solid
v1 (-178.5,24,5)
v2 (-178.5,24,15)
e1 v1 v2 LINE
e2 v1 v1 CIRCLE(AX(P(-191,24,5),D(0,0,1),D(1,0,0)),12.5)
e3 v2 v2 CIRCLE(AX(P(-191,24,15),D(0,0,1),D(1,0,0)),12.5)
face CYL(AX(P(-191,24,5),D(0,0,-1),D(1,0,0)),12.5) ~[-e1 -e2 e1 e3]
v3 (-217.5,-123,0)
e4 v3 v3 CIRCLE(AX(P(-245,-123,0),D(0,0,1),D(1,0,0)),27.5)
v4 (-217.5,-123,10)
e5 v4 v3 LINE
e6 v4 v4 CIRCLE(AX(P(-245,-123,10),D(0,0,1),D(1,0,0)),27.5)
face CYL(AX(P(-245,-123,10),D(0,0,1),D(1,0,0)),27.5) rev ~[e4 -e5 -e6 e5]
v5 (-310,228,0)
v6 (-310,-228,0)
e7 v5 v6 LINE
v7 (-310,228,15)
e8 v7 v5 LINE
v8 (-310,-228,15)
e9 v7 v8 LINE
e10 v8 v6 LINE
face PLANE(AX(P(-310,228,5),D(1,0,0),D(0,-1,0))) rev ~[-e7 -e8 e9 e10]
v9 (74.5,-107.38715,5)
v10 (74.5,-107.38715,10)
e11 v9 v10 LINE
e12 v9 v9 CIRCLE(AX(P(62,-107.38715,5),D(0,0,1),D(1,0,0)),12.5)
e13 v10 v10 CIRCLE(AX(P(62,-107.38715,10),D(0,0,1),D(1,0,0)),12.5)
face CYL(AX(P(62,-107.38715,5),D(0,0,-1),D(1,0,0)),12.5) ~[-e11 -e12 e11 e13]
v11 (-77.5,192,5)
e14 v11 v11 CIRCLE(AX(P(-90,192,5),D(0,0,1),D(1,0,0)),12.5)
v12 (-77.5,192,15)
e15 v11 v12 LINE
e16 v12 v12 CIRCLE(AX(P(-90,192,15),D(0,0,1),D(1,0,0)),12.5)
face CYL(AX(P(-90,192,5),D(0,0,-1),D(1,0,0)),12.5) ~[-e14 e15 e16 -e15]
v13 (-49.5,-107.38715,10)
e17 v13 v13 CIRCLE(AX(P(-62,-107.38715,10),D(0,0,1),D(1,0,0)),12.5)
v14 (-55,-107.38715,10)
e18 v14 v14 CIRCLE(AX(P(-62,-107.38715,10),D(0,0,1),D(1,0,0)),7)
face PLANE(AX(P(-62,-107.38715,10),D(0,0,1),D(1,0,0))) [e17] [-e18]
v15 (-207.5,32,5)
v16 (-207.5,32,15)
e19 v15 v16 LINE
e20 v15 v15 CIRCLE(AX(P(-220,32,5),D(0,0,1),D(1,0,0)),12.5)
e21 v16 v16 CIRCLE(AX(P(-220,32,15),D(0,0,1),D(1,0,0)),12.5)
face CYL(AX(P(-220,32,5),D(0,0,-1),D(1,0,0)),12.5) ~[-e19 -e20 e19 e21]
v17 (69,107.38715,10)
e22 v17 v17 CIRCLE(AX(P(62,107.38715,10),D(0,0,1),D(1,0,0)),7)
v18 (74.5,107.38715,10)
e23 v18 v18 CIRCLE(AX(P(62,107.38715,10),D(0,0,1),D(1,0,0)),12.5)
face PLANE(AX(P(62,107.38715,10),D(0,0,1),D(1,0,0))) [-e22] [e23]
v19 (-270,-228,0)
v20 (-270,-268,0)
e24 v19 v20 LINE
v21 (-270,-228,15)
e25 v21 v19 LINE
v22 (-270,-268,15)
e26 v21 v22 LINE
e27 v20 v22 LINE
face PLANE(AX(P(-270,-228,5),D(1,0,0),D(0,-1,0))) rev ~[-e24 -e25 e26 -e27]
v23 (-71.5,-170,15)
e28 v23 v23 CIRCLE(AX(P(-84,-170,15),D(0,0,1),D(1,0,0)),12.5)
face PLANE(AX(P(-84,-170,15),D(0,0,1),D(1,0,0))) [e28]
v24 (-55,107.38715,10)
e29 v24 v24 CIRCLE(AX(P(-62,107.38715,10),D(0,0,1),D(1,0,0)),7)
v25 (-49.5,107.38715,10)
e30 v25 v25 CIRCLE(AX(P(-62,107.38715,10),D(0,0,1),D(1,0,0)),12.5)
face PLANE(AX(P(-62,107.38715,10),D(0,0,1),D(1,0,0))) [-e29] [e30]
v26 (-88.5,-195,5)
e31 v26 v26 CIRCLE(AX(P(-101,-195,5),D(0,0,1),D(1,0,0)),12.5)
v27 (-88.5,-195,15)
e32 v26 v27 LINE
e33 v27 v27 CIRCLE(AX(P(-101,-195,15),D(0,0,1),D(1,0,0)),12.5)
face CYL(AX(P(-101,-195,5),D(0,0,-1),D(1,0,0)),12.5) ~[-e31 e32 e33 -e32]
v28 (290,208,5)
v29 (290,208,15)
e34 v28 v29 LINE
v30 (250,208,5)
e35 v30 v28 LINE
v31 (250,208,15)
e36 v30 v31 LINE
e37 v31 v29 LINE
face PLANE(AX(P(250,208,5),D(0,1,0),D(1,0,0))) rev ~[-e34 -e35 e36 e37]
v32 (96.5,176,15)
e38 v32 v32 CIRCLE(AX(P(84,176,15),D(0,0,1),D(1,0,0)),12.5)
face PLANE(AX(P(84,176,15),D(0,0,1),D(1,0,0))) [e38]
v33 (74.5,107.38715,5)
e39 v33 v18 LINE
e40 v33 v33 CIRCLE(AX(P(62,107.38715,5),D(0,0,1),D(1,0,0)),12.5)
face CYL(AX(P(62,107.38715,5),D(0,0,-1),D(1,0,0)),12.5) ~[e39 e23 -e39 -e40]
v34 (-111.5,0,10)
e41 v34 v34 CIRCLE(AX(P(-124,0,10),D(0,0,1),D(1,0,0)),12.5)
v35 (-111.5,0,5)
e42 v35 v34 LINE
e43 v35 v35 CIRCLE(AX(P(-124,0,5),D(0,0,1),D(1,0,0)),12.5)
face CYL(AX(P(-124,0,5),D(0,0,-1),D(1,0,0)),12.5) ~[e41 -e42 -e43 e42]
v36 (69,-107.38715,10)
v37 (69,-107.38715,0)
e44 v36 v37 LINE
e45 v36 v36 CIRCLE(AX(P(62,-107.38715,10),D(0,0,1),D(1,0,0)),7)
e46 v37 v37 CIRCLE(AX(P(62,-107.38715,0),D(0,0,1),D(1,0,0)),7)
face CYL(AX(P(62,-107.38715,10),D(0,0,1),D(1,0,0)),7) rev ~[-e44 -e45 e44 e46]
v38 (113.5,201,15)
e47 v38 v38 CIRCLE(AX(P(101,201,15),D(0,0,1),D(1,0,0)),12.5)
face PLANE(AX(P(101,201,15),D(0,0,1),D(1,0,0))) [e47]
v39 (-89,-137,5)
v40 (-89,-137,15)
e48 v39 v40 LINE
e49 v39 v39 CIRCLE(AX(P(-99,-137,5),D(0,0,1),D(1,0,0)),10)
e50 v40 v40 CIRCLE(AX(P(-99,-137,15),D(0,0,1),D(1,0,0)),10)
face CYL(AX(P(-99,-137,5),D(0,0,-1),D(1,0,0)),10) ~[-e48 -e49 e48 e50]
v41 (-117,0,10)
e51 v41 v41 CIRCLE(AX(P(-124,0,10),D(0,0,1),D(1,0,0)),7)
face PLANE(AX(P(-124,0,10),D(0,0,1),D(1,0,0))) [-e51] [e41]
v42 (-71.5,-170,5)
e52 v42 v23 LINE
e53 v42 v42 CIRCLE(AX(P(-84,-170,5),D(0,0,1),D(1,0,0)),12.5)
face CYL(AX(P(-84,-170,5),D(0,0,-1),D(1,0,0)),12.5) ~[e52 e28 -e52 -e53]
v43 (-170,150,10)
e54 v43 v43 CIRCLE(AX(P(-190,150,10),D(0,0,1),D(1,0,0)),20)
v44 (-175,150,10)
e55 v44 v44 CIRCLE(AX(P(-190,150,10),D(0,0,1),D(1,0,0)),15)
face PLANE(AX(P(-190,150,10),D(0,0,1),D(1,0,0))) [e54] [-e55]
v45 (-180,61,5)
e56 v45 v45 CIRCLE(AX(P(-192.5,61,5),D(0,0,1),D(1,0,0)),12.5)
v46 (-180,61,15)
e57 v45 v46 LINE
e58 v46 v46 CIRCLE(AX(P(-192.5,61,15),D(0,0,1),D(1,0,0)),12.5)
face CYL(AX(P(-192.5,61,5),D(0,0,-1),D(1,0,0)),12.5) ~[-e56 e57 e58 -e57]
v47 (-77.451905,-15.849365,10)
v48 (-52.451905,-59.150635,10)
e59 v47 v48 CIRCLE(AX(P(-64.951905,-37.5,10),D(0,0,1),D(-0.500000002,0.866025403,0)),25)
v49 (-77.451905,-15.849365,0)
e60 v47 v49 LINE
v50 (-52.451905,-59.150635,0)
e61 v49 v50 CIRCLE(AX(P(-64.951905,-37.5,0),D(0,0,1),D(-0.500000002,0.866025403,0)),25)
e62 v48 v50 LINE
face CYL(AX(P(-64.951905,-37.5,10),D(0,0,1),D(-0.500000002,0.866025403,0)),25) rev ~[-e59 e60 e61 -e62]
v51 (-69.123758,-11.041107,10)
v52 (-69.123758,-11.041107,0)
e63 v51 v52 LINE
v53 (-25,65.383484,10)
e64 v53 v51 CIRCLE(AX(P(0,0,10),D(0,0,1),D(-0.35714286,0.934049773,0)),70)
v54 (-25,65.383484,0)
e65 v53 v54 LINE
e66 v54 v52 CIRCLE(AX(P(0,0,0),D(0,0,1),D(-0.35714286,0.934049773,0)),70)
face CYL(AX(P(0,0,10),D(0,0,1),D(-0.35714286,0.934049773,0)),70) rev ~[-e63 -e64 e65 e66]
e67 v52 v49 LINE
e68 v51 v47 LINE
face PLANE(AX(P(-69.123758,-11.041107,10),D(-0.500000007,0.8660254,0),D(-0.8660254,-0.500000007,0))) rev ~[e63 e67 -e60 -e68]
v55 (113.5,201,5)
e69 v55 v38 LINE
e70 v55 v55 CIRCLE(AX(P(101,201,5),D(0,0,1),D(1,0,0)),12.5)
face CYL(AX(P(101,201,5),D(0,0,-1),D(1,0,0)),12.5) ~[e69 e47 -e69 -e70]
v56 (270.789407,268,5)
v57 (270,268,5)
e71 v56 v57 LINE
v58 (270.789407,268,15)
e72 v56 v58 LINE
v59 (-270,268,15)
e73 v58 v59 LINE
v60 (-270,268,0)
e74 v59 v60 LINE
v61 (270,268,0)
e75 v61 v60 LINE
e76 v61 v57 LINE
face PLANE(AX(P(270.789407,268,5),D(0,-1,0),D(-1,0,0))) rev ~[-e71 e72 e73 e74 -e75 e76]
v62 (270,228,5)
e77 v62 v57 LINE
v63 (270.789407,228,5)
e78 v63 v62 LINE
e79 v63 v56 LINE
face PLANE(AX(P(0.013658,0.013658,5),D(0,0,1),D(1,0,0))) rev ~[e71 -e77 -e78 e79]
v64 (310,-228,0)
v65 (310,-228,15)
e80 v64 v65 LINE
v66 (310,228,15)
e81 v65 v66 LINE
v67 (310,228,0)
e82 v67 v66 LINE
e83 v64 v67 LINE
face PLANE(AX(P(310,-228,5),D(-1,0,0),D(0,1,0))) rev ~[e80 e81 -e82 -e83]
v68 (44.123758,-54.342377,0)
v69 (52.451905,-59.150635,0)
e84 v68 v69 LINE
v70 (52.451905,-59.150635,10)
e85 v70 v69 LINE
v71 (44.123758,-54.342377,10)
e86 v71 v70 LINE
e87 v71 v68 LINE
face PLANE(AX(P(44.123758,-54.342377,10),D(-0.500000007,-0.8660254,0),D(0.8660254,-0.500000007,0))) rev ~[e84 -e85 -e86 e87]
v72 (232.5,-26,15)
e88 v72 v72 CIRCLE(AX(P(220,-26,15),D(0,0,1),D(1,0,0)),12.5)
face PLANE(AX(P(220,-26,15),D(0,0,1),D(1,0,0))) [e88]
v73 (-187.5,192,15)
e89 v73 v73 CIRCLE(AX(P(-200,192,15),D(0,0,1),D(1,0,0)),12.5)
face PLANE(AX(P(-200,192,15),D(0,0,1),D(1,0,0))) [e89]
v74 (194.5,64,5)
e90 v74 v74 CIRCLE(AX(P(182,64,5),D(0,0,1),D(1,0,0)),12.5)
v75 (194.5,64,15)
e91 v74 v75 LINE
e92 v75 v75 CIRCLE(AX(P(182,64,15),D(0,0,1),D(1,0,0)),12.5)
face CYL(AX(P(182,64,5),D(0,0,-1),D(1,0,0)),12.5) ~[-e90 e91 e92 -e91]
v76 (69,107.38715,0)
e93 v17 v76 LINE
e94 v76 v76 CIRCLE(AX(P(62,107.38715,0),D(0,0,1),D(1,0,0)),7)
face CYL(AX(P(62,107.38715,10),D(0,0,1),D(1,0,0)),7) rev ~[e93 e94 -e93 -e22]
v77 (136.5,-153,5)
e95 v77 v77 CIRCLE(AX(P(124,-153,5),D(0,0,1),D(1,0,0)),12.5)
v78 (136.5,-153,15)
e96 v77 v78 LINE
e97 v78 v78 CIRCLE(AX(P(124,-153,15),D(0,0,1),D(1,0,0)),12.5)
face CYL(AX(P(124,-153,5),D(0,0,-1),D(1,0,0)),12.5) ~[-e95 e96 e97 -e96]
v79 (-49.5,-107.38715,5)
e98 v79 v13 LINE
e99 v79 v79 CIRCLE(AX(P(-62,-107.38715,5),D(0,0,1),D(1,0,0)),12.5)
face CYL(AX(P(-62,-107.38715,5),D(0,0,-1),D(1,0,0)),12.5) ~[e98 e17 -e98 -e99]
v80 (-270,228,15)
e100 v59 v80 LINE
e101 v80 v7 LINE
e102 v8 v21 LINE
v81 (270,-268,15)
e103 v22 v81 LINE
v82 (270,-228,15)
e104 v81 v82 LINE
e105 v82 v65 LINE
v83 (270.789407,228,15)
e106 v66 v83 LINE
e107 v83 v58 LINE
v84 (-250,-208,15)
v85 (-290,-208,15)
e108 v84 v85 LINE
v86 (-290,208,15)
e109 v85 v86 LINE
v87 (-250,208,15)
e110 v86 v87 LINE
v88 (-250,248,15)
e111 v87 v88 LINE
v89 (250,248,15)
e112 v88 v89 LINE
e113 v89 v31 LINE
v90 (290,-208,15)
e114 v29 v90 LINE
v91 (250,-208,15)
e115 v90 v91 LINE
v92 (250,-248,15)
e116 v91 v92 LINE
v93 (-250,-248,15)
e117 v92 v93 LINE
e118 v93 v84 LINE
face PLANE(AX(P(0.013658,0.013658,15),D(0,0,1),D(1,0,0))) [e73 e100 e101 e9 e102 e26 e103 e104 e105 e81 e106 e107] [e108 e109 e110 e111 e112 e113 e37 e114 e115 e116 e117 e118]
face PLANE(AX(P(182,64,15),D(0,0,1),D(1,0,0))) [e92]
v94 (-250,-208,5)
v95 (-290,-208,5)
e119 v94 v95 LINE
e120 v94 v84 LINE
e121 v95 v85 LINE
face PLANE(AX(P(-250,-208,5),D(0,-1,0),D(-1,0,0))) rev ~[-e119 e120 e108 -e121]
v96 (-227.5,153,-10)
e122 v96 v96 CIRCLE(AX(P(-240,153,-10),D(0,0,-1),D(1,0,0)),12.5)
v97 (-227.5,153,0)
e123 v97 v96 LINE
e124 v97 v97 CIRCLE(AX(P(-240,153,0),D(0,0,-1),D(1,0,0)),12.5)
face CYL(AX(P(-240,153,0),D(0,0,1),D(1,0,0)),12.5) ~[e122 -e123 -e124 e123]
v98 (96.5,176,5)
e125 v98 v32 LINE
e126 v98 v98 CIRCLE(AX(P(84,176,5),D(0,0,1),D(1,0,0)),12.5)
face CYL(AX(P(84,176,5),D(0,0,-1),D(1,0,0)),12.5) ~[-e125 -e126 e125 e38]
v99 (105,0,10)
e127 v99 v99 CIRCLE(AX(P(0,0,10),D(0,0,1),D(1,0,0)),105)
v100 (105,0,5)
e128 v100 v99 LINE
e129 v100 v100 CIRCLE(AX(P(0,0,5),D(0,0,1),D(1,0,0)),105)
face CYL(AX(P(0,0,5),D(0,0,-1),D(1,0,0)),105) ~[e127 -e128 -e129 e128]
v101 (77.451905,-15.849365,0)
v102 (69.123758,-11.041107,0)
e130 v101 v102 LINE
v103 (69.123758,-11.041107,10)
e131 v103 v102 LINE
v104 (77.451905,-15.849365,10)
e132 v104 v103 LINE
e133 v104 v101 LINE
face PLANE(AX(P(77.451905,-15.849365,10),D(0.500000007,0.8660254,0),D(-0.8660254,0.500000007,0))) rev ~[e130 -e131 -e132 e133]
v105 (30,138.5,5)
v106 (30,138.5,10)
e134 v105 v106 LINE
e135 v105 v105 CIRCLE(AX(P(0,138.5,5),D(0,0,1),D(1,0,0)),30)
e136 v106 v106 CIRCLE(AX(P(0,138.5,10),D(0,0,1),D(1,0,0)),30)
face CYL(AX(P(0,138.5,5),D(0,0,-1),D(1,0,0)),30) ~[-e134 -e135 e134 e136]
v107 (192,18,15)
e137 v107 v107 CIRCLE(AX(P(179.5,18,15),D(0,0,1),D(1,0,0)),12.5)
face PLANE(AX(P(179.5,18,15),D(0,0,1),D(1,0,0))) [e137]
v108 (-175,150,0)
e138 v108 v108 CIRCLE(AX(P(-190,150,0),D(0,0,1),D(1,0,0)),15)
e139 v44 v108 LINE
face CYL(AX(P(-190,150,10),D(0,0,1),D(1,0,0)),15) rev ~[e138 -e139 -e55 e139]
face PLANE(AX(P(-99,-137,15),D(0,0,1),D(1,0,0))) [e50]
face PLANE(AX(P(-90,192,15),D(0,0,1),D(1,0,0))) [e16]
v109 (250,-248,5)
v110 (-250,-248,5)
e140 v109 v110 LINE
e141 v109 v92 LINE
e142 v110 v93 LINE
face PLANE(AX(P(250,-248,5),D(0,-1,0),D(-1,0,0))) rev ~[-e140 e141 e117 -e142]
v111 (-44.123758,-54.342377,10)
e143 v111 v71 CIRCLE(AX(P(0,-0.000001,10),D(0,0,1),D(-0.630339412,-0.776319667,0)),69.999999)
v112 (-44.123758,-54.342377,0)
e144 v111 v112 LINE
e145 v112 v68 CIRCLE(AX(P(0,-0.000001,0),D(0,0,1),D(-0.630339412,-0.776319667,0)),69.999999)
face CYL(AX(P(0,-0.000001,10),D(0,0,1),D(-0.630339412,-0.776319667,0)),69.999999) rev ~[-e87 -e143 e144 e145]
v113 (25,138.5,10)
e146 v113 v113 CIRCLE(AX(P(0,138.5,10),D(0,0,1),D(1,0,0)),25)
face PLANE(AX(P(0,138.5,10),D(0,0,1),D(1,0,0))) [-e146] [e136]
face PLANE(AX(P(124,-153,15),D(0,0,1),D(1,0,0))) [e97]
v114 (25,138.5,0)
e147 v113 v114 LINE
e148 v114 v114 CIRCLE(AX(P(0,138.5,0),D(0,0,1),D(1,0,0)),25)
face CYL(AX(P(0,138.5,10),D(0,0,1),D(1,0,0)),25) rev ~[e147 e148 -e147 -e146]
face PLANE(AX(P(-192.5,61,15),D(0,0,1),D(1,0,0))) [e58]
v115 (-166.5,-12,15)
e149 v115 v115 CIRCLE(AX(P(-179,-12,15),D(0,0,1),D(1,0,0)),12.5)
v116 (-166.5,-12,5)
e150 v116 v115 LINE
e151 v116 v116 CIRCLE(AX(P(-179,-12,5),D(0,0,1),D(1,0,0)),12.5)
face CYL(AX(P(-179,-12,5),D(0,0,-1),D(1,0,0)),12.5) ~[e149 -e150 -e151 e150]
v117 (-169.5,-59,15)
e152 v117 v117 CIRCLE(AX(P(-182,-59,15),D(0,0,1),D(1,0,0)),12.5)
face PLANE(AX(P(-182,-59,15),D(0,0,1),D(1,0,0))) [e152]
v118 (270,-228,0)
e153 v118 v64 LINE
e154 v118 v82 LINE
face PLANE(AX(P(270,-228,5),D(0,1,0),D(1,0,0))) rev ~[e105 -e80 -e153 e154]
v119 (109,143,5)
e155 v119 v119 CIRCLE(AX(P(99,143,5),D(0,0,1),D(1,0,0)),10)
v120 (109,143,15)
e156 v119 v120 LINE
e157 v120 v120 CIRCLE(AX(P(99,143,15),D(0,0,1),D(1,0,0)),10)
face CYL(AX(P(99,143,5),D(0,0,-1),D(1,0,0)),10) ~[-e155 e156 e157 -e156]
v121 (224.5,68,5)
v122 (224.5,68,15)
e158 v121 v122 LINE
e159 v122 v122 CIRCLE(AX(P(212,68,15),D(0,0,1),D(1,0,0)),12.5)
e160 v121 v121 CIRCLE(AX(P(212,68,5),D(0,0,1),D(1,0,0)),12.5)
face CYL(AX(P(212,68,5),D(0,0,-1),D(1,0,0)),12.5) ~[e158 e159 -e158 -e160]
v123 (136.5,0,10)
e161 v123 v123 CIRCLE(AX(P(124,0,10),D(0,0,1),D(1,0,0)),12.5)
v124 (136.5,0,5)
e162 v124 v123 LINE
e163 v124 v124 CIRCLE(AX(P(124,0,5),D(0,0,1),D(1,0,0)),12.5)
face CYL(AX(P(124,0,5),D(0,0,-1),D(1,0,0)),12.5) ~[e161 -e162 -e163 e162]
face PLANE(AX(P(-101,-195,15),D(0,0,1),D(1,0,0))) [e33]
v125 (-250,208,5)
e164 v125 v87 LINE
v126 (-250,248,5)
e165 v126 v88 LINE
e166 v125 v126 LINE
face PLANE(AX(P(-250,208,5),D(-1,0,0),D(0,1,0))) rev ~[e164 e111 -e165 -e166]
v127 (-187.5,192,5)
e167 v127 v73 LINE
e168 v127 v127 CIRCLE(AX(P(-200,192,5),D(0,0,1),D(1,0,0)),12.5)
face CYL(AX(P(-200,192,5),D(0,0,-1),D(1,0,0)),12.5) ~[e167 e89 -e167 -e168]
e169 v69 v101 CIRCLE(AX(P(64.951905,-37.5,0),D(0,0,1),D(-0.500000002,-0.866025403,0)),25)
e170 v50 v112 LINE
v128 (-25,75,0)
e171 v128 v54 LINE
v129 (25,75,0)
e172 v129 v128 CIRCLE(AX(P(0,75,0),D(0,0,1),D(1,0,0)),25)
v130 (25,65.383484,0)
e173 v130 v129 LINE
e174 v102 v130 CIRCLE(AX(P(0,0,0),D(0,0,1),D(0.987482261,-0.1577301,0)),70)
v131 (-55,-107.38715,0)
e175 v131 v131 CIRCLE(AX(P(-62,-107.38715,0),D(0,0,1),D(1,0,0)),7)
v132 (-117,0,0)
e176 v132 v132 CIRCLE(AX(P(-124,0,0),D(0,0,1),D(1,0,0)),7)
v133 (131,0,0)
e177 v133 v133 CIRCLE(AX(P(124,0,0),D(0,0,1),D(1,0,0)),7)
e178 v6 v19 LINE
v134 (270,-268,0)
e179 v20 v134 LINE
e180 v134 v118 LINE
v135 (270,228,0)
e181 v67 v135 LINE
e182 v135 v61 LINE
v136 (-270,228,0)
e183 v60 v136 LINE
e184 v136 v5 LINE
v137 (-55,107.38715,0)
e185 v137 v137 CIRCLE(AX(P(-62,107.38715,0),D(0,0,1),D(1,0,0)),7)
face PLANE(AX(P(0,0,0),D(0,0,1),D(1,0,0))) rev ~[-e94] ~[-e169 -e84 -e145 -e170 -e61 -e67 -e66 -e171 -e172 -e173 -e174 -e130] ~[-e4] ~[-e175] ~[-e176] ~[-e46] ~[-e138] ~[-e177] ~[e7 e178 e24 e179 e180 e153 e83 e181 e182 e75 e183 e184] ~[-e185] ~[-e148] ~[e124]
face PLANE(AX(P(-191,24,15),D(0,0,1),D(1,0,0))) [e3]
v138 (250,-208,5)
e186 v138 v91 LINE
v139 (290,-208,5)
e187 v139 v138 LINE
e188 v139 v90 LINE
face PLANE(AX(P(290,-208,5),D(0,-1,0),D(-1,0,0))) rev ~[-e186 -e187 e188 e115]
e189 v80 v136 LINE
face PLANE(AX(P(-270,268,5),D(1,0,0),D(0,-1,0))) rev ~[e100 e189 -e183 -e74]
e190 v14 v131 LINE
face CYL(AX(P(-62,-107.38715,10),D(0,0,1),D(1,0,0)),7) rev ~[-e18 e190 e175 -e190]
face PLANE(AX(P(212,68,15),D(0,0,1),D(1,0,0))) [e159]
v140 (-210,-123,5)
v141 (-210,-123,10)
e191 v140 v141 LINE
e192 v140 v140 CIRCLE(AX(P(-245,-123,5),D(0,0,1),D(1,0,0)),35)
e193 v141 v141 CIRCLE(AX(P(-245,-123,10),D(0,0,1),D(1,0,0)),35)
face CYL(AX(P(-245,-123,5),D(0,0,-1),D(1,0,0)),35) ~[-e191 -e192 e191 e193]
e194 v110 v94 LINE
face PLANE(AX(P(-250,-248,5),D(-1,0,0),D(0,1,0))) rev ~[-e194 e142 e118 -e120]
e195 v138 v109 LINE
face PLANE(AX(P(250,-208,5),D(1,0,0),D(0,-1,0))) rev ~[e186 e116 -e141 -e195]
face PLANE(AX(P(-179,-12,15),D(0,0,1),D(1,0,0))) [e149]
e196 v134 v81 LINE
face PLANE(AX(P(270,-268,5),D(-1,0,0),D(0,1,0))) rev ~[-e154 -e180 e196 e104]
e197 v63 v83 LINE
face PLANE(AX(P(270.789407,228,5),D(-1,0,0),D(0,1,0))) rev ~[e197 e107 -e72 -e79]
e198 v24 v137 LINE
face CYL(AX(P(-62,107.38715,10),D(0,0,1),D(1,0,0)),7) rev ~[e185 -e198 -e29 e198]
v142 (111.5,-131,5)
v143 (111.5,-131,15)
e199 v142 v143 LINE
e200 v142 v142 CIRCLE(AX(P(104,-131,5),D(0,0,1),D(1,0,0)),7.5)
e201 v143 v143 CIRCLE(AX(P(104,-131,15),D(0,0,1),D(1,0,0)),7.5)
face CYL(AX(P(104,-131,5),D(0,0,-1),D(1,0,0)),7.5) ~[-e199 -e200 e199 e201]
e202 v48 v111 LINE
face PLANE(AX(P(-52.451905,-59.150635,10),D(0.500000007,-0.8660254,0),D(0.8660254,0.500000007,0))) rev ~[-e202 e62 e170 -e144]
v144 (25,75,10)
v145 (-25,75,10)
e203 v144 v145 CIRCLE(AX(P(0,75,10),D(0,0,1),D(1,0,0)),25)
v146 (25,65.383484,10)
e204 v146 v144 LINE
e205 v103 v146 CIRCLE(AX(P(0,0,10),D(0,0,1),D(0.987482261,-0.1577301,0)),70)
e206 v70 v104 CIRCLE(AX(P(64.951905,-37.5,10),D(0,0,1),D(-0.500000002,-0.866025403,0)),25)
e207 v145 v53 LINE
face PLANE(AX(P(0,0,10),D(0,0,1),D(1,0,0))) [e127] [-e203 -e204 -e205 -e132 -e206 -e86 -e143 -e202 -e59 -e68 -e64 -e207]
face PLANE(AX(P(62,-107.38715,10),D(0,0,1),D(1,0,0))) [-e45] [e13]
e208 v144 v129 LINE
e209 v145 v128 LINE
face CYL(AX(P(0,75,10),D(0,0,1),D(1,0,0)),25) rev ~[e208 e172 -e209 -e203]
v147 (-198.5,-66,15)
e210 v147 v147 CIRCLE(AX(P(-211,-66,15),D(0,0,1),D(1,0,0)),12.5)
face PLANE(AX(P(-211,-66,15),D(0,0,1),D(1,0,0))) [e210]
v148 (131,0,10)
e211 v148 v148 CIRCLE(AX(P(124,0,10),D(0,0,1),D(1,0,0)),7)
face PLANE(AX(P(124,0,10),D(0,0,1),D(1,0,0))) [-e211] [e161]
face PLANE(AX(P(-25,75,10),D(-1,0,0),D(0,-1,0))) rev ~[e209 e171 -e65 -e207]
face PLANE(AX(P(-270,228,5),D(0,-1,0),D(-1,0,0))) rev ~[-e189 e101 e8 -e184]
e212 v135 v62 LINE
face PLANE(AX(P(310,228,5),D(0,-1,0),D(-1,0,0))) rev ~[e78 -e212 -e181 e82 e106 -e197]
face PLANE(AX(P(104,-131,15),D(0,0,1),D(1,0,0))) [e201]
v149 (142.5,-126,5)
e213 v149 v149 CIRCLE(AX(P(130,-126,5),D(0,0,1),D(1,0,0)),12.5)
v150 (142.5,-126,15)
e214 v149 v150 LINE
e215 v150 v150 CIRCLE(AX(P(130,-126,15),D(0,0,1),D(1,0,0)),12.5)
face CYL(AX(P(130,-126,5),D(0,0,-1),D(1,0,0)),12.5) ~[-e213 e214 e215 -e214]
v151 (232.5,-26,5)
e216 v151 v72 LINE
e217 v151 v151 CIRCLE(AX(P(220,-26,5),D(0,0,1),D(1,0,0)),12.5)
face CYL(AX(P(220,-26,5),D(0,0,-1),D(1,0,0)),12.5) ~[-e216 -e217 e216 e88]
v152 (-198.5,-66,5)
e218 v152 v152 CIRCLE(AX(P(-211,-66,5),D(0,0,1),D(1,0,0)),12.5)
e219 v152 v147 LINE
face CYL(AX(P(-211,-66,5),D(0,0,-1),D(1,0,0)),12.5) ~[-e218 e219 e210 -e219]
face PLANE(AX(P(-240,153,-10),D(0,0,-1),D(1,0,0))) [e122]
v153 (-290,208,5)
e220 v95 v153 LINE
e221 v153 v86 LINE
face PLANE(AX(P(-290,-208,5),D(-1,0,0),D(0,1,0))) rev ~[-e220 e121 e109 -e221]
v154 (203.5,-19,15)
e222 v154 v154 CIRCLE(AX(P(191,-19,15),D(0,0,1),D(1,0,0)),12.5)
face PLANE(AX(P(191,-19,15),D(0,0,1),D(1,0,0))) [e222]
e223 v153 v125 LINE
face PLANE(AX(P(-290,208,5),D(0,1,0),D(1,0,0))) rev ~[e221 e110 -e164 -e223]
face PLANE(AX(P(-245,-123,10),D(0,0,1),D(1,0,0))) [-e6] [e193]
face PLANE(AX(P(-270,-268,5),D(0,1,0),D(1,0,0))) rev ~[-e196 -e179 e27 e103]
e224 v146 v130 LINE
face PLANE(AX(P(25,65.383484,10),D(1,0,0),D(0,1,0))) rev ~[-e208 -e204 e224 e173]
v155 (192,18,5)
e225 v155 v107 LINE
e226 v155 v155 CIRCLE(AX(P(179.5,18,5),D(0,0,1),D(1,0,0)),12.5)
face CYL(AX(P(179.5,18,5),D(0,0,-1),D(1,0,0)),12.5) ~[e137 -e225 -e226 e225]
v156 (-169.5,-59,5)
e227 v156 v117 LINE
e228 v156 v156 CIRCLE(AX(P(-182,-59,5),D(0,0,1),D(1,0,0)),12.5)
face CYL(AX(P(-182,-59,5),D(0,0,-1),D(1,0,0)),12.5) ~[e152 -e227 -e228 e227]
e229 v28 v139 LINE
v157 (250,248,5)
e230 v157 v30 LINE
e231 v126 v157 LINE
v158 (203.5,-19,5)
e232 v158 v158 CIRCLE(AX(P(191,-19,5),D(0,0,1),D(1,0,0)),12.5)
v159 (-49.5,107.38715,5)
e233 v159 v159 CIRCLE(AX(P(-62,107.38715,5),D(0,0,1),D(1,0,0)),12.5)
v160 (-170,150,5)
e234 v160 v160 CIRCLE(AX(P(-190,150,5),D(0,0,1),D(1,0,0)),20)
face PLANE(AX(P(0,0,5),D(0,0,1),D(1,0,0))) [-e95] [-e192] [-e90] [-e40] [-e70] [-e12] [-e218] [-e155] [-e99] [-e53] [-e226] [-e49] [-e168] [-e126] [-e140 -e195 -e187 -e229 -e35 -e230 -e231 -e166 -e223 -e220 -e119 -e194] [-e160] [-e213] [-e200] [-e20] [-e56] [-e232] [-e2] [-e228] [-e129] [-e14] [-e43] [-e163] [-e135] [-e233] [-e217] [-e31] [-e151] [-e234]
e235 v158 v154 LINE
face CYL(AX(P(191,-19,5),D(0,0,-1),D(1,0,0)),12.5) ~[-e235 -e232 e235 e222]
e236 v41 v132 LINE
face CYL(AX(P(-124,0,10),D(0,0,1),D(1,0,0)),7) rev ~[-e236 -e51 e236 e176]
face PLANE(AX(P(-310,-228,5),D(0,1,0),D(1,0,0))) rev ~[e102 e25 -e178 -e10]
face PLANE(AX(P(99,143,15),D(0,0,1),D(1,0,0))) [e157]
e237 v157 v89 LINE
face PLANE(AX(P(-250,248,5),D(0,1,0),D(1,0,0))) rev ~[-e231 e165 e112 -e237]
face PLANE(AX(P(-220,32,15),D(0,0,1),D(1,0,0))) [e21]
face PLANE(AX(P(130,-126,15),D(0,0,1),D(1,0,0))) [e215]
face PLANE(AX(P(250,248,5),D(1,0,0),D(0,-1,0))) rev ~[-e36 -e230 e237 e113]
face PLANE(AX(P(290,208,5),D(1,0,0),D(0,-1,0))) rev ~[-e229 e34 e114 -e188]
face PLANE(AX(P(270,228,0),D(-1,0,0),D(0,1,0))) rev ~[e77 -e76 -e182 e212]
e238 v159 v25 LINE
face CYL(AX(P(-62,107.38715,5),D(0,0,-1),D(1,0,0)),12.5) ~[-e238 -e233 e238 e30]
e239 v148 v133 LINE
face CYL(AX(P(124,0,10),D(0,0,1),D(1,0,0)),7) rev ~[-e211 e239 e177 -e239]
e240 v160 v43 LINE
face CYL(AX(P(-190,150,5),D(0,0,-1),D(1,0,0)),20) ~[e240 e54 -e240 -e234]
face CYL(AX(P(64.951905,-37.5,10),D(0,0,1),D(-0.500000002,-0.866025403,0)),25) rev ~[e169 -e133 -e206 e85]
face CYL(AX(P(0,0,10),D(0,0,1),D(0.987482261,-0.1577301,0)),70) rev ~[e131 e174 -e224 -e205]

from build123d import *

# Parameters (mm, degrees)
F1_DEPTH  = 5
F3_DEPTH  = 10
F4_R      = 20
F4_R_2    = 30
F4_R_3    = 105
F4_R_4    = 12.5
F4_R_5    = 35
F5_DEPTH  = 5
F6_R      = 27.5
F6_R_2    = 7
F6_R_3    = 25
F6_R_4    = 15
F7_DEPTH  = 10
F8_R      = 12.5
F8_R_2    = 10
F8_R_3    = 7.5
F9_DEPTH  = 10
F10_R     = 12.5
F11_DEPTH = 10


with BuildPart() as f1:
    # F0 (on Top) → F1 (new body)
    with BuildSketch(Plane.XY):
        Polygon((-270, -228), (-270, -268), (270, -268), (270, -228), (310, -228), (310, 228), (270, 228), (270, 268), (-270, 268), (-270, 228), (-310, 228), (-310, -228), align=None)
    extrude(amount=F1_DEPTH)

    # F2 (on face) → F3 (join)
    with BuildSketch(Plane.XY.offset(5)):
        Polygon((-270, -228), (-270, -268), (270, -268), (270, -228), (310, -228), (310, 228), (270.789407, 228), (270.789407, 268), (-270, 268), (-270, 228), (-310, 228), (-310, -228), align=None)
        Polygon((250, 248), (250, 208), (290, 208), (290, -208), (250, -208), (250, -248), (-250, -248), (-250, -208), (-290, -208), (-290, 208), (-250, 208), (-250, 248), align=None, mode=Mode.SUBTRACT)
    extrude(amount=F3_DEPTH)

    # F4 (on face) → F5 (join)
    with BuildSketch(Plane.XY.offset(5)):
        with Locations((-190, 150)):
            Circle(F4_R)
        with Locations((0, 138.5)):
            Circle(F4_R_2)
        Circle(F4_R_3)
        with Locations((-124, 0)):
            Circle(F4_R_4)
        with Locations((-245, -123)):
            Circle(F4_R_5)
        with Locations((-62, 107.38715)):
            Circle(F4_R_4)
        with Locations((62, 107.38715)):
            Circle(F4_R_4)
        with Locations((124, 0)):
            Circle(F4_R_4)
        with Locations((62, -107.38715)):
            Circle(F4_R_4)
        with Locations((-62, -107.38715)):
            Circle(F4_R_4)
    extrude(amount=F5_DEPTH)

    # F6 (on face) → F7 (cut, through all)
    with BuildSketch(Plane.XY.offset(10)):
        with Locations((-245, -123)):
            Circle(F6_R)
        with Locations((-124, 0)):
            Circle(F6_R_2)
        with Locations((0, 138.5)):
            Circle(F6_R_3)
        with Locations((-190, 150)):
            Circle(F6_R_4)
        with Locations((-62, -107.38715)):
            Circle(F6_R_2)
        with Locations((62, -107.38715)):
            Circle(F6_R_2)
        with Locations((124, 0)):
            Circle(F6_R_2)
        with Locations((62, 107.38715)):
            Circle(F6_R_2)
        with Locations((-62, 107.38715)):
            Circle(F6_R_2)
        with BuildLine():
            Line((25, 65.383484), (25, 75))
            ThreePointArc((25, 75), (0, 100), (-25, 75))
            Line((-25, 75), (-25, 65.383484))
            ThreePointArc((-25, 65.383484), (-60.621778, 35), (-69.123758, -11.041107))
            Line((-69.123758, -11.041107), (-77.451905, -15.849365))
            ThreePointArc((-77.451905, -15.849365), (-86.60254, -50), (-52.451905, -59.150635))
            Line((-52.451905, -59.150635), (-44.123758, -54.342377))
            ThreePointArc((-44.123758, -54.342377), (0, -70), (44.123758, -54.342377))
            Line((44.123758, -54.342377), (52.451905, -59.150635))
            ThreePointArc((52.451905, -59.150635), (86.60254, -50), (77.451905, -15.849365))
            Line((77.451905, -15.849365), (69.123758, -11.041107))
            ThreePointArc((69.123758, -11.041107), (60.621778, 35), (25, 65.383484))
        make_face()
    extrude(amount=-F7_DEPTH, mode=Mode.SUBTRACT)

    # F8 (on face) → F9 (join)
    with BuildSketch(Plane.XY.offset(5)):
        with Locations((-101, -195)):
            Circle(F8_R)
        with Locations((-84, -170)):
            Circle(F8_R)
        with Locations((-179, -12)):
            Circle(F8_R)
        with Locations((-211, -66)):
            Circle(F8_R)
        with Locations((-182, -59)):
            Circle(F8_R)
        with Locations((-220, 32)):
            Circle(F8_R)
        with Locations((-191, 24)):
            Circle(F8_R)
        with Locations((-192.5, 61)):
            Circle(F8_R)
        with Locations((-200, 192)):
            Circle(F8_R)
        with Locations((-90, 192)):
            Circle(F8_R)
        with Locations((84, 176)):
            Circle(F8_R)
        with Locations((101, 201)):
            Circle(F8_R)
        with Locations((182, 64)):
            Circle(F8_R)
        with Locations((212, 68)):
            Circle(F8_R)
        with Locations((179.5, 18)):
            Circle(F8_R)
        with Locations((191, -19)):
            Circle(F8_R)
        with Locations((220, -26)):
            Circle(F8_R)
        with Locations((124, -153)):
            Circle(F8_R)
        with Locations((130, -126)):
            Circle(F8_R)
        with Locations((-99, -137)):
            Circle(F8_R_2)
        with Locations((99, 143)):
            Circle(F8_R_2)
        with Locations((104, -131)):
            Circle(F8_R_3)
    extrude(amount=F9_DEPTH)

    # F10 (on face) → F11 (join)
    with BuildSketch(Plane(origin=(0, 0, 0), x_dir=(1, 0, 0), z_dir=(0, 0, -1))):
        with Locations((-240, -153)):
            Circle(F10_R)
    extrude(amount=F11_DEPTH)


solid = f1.part
